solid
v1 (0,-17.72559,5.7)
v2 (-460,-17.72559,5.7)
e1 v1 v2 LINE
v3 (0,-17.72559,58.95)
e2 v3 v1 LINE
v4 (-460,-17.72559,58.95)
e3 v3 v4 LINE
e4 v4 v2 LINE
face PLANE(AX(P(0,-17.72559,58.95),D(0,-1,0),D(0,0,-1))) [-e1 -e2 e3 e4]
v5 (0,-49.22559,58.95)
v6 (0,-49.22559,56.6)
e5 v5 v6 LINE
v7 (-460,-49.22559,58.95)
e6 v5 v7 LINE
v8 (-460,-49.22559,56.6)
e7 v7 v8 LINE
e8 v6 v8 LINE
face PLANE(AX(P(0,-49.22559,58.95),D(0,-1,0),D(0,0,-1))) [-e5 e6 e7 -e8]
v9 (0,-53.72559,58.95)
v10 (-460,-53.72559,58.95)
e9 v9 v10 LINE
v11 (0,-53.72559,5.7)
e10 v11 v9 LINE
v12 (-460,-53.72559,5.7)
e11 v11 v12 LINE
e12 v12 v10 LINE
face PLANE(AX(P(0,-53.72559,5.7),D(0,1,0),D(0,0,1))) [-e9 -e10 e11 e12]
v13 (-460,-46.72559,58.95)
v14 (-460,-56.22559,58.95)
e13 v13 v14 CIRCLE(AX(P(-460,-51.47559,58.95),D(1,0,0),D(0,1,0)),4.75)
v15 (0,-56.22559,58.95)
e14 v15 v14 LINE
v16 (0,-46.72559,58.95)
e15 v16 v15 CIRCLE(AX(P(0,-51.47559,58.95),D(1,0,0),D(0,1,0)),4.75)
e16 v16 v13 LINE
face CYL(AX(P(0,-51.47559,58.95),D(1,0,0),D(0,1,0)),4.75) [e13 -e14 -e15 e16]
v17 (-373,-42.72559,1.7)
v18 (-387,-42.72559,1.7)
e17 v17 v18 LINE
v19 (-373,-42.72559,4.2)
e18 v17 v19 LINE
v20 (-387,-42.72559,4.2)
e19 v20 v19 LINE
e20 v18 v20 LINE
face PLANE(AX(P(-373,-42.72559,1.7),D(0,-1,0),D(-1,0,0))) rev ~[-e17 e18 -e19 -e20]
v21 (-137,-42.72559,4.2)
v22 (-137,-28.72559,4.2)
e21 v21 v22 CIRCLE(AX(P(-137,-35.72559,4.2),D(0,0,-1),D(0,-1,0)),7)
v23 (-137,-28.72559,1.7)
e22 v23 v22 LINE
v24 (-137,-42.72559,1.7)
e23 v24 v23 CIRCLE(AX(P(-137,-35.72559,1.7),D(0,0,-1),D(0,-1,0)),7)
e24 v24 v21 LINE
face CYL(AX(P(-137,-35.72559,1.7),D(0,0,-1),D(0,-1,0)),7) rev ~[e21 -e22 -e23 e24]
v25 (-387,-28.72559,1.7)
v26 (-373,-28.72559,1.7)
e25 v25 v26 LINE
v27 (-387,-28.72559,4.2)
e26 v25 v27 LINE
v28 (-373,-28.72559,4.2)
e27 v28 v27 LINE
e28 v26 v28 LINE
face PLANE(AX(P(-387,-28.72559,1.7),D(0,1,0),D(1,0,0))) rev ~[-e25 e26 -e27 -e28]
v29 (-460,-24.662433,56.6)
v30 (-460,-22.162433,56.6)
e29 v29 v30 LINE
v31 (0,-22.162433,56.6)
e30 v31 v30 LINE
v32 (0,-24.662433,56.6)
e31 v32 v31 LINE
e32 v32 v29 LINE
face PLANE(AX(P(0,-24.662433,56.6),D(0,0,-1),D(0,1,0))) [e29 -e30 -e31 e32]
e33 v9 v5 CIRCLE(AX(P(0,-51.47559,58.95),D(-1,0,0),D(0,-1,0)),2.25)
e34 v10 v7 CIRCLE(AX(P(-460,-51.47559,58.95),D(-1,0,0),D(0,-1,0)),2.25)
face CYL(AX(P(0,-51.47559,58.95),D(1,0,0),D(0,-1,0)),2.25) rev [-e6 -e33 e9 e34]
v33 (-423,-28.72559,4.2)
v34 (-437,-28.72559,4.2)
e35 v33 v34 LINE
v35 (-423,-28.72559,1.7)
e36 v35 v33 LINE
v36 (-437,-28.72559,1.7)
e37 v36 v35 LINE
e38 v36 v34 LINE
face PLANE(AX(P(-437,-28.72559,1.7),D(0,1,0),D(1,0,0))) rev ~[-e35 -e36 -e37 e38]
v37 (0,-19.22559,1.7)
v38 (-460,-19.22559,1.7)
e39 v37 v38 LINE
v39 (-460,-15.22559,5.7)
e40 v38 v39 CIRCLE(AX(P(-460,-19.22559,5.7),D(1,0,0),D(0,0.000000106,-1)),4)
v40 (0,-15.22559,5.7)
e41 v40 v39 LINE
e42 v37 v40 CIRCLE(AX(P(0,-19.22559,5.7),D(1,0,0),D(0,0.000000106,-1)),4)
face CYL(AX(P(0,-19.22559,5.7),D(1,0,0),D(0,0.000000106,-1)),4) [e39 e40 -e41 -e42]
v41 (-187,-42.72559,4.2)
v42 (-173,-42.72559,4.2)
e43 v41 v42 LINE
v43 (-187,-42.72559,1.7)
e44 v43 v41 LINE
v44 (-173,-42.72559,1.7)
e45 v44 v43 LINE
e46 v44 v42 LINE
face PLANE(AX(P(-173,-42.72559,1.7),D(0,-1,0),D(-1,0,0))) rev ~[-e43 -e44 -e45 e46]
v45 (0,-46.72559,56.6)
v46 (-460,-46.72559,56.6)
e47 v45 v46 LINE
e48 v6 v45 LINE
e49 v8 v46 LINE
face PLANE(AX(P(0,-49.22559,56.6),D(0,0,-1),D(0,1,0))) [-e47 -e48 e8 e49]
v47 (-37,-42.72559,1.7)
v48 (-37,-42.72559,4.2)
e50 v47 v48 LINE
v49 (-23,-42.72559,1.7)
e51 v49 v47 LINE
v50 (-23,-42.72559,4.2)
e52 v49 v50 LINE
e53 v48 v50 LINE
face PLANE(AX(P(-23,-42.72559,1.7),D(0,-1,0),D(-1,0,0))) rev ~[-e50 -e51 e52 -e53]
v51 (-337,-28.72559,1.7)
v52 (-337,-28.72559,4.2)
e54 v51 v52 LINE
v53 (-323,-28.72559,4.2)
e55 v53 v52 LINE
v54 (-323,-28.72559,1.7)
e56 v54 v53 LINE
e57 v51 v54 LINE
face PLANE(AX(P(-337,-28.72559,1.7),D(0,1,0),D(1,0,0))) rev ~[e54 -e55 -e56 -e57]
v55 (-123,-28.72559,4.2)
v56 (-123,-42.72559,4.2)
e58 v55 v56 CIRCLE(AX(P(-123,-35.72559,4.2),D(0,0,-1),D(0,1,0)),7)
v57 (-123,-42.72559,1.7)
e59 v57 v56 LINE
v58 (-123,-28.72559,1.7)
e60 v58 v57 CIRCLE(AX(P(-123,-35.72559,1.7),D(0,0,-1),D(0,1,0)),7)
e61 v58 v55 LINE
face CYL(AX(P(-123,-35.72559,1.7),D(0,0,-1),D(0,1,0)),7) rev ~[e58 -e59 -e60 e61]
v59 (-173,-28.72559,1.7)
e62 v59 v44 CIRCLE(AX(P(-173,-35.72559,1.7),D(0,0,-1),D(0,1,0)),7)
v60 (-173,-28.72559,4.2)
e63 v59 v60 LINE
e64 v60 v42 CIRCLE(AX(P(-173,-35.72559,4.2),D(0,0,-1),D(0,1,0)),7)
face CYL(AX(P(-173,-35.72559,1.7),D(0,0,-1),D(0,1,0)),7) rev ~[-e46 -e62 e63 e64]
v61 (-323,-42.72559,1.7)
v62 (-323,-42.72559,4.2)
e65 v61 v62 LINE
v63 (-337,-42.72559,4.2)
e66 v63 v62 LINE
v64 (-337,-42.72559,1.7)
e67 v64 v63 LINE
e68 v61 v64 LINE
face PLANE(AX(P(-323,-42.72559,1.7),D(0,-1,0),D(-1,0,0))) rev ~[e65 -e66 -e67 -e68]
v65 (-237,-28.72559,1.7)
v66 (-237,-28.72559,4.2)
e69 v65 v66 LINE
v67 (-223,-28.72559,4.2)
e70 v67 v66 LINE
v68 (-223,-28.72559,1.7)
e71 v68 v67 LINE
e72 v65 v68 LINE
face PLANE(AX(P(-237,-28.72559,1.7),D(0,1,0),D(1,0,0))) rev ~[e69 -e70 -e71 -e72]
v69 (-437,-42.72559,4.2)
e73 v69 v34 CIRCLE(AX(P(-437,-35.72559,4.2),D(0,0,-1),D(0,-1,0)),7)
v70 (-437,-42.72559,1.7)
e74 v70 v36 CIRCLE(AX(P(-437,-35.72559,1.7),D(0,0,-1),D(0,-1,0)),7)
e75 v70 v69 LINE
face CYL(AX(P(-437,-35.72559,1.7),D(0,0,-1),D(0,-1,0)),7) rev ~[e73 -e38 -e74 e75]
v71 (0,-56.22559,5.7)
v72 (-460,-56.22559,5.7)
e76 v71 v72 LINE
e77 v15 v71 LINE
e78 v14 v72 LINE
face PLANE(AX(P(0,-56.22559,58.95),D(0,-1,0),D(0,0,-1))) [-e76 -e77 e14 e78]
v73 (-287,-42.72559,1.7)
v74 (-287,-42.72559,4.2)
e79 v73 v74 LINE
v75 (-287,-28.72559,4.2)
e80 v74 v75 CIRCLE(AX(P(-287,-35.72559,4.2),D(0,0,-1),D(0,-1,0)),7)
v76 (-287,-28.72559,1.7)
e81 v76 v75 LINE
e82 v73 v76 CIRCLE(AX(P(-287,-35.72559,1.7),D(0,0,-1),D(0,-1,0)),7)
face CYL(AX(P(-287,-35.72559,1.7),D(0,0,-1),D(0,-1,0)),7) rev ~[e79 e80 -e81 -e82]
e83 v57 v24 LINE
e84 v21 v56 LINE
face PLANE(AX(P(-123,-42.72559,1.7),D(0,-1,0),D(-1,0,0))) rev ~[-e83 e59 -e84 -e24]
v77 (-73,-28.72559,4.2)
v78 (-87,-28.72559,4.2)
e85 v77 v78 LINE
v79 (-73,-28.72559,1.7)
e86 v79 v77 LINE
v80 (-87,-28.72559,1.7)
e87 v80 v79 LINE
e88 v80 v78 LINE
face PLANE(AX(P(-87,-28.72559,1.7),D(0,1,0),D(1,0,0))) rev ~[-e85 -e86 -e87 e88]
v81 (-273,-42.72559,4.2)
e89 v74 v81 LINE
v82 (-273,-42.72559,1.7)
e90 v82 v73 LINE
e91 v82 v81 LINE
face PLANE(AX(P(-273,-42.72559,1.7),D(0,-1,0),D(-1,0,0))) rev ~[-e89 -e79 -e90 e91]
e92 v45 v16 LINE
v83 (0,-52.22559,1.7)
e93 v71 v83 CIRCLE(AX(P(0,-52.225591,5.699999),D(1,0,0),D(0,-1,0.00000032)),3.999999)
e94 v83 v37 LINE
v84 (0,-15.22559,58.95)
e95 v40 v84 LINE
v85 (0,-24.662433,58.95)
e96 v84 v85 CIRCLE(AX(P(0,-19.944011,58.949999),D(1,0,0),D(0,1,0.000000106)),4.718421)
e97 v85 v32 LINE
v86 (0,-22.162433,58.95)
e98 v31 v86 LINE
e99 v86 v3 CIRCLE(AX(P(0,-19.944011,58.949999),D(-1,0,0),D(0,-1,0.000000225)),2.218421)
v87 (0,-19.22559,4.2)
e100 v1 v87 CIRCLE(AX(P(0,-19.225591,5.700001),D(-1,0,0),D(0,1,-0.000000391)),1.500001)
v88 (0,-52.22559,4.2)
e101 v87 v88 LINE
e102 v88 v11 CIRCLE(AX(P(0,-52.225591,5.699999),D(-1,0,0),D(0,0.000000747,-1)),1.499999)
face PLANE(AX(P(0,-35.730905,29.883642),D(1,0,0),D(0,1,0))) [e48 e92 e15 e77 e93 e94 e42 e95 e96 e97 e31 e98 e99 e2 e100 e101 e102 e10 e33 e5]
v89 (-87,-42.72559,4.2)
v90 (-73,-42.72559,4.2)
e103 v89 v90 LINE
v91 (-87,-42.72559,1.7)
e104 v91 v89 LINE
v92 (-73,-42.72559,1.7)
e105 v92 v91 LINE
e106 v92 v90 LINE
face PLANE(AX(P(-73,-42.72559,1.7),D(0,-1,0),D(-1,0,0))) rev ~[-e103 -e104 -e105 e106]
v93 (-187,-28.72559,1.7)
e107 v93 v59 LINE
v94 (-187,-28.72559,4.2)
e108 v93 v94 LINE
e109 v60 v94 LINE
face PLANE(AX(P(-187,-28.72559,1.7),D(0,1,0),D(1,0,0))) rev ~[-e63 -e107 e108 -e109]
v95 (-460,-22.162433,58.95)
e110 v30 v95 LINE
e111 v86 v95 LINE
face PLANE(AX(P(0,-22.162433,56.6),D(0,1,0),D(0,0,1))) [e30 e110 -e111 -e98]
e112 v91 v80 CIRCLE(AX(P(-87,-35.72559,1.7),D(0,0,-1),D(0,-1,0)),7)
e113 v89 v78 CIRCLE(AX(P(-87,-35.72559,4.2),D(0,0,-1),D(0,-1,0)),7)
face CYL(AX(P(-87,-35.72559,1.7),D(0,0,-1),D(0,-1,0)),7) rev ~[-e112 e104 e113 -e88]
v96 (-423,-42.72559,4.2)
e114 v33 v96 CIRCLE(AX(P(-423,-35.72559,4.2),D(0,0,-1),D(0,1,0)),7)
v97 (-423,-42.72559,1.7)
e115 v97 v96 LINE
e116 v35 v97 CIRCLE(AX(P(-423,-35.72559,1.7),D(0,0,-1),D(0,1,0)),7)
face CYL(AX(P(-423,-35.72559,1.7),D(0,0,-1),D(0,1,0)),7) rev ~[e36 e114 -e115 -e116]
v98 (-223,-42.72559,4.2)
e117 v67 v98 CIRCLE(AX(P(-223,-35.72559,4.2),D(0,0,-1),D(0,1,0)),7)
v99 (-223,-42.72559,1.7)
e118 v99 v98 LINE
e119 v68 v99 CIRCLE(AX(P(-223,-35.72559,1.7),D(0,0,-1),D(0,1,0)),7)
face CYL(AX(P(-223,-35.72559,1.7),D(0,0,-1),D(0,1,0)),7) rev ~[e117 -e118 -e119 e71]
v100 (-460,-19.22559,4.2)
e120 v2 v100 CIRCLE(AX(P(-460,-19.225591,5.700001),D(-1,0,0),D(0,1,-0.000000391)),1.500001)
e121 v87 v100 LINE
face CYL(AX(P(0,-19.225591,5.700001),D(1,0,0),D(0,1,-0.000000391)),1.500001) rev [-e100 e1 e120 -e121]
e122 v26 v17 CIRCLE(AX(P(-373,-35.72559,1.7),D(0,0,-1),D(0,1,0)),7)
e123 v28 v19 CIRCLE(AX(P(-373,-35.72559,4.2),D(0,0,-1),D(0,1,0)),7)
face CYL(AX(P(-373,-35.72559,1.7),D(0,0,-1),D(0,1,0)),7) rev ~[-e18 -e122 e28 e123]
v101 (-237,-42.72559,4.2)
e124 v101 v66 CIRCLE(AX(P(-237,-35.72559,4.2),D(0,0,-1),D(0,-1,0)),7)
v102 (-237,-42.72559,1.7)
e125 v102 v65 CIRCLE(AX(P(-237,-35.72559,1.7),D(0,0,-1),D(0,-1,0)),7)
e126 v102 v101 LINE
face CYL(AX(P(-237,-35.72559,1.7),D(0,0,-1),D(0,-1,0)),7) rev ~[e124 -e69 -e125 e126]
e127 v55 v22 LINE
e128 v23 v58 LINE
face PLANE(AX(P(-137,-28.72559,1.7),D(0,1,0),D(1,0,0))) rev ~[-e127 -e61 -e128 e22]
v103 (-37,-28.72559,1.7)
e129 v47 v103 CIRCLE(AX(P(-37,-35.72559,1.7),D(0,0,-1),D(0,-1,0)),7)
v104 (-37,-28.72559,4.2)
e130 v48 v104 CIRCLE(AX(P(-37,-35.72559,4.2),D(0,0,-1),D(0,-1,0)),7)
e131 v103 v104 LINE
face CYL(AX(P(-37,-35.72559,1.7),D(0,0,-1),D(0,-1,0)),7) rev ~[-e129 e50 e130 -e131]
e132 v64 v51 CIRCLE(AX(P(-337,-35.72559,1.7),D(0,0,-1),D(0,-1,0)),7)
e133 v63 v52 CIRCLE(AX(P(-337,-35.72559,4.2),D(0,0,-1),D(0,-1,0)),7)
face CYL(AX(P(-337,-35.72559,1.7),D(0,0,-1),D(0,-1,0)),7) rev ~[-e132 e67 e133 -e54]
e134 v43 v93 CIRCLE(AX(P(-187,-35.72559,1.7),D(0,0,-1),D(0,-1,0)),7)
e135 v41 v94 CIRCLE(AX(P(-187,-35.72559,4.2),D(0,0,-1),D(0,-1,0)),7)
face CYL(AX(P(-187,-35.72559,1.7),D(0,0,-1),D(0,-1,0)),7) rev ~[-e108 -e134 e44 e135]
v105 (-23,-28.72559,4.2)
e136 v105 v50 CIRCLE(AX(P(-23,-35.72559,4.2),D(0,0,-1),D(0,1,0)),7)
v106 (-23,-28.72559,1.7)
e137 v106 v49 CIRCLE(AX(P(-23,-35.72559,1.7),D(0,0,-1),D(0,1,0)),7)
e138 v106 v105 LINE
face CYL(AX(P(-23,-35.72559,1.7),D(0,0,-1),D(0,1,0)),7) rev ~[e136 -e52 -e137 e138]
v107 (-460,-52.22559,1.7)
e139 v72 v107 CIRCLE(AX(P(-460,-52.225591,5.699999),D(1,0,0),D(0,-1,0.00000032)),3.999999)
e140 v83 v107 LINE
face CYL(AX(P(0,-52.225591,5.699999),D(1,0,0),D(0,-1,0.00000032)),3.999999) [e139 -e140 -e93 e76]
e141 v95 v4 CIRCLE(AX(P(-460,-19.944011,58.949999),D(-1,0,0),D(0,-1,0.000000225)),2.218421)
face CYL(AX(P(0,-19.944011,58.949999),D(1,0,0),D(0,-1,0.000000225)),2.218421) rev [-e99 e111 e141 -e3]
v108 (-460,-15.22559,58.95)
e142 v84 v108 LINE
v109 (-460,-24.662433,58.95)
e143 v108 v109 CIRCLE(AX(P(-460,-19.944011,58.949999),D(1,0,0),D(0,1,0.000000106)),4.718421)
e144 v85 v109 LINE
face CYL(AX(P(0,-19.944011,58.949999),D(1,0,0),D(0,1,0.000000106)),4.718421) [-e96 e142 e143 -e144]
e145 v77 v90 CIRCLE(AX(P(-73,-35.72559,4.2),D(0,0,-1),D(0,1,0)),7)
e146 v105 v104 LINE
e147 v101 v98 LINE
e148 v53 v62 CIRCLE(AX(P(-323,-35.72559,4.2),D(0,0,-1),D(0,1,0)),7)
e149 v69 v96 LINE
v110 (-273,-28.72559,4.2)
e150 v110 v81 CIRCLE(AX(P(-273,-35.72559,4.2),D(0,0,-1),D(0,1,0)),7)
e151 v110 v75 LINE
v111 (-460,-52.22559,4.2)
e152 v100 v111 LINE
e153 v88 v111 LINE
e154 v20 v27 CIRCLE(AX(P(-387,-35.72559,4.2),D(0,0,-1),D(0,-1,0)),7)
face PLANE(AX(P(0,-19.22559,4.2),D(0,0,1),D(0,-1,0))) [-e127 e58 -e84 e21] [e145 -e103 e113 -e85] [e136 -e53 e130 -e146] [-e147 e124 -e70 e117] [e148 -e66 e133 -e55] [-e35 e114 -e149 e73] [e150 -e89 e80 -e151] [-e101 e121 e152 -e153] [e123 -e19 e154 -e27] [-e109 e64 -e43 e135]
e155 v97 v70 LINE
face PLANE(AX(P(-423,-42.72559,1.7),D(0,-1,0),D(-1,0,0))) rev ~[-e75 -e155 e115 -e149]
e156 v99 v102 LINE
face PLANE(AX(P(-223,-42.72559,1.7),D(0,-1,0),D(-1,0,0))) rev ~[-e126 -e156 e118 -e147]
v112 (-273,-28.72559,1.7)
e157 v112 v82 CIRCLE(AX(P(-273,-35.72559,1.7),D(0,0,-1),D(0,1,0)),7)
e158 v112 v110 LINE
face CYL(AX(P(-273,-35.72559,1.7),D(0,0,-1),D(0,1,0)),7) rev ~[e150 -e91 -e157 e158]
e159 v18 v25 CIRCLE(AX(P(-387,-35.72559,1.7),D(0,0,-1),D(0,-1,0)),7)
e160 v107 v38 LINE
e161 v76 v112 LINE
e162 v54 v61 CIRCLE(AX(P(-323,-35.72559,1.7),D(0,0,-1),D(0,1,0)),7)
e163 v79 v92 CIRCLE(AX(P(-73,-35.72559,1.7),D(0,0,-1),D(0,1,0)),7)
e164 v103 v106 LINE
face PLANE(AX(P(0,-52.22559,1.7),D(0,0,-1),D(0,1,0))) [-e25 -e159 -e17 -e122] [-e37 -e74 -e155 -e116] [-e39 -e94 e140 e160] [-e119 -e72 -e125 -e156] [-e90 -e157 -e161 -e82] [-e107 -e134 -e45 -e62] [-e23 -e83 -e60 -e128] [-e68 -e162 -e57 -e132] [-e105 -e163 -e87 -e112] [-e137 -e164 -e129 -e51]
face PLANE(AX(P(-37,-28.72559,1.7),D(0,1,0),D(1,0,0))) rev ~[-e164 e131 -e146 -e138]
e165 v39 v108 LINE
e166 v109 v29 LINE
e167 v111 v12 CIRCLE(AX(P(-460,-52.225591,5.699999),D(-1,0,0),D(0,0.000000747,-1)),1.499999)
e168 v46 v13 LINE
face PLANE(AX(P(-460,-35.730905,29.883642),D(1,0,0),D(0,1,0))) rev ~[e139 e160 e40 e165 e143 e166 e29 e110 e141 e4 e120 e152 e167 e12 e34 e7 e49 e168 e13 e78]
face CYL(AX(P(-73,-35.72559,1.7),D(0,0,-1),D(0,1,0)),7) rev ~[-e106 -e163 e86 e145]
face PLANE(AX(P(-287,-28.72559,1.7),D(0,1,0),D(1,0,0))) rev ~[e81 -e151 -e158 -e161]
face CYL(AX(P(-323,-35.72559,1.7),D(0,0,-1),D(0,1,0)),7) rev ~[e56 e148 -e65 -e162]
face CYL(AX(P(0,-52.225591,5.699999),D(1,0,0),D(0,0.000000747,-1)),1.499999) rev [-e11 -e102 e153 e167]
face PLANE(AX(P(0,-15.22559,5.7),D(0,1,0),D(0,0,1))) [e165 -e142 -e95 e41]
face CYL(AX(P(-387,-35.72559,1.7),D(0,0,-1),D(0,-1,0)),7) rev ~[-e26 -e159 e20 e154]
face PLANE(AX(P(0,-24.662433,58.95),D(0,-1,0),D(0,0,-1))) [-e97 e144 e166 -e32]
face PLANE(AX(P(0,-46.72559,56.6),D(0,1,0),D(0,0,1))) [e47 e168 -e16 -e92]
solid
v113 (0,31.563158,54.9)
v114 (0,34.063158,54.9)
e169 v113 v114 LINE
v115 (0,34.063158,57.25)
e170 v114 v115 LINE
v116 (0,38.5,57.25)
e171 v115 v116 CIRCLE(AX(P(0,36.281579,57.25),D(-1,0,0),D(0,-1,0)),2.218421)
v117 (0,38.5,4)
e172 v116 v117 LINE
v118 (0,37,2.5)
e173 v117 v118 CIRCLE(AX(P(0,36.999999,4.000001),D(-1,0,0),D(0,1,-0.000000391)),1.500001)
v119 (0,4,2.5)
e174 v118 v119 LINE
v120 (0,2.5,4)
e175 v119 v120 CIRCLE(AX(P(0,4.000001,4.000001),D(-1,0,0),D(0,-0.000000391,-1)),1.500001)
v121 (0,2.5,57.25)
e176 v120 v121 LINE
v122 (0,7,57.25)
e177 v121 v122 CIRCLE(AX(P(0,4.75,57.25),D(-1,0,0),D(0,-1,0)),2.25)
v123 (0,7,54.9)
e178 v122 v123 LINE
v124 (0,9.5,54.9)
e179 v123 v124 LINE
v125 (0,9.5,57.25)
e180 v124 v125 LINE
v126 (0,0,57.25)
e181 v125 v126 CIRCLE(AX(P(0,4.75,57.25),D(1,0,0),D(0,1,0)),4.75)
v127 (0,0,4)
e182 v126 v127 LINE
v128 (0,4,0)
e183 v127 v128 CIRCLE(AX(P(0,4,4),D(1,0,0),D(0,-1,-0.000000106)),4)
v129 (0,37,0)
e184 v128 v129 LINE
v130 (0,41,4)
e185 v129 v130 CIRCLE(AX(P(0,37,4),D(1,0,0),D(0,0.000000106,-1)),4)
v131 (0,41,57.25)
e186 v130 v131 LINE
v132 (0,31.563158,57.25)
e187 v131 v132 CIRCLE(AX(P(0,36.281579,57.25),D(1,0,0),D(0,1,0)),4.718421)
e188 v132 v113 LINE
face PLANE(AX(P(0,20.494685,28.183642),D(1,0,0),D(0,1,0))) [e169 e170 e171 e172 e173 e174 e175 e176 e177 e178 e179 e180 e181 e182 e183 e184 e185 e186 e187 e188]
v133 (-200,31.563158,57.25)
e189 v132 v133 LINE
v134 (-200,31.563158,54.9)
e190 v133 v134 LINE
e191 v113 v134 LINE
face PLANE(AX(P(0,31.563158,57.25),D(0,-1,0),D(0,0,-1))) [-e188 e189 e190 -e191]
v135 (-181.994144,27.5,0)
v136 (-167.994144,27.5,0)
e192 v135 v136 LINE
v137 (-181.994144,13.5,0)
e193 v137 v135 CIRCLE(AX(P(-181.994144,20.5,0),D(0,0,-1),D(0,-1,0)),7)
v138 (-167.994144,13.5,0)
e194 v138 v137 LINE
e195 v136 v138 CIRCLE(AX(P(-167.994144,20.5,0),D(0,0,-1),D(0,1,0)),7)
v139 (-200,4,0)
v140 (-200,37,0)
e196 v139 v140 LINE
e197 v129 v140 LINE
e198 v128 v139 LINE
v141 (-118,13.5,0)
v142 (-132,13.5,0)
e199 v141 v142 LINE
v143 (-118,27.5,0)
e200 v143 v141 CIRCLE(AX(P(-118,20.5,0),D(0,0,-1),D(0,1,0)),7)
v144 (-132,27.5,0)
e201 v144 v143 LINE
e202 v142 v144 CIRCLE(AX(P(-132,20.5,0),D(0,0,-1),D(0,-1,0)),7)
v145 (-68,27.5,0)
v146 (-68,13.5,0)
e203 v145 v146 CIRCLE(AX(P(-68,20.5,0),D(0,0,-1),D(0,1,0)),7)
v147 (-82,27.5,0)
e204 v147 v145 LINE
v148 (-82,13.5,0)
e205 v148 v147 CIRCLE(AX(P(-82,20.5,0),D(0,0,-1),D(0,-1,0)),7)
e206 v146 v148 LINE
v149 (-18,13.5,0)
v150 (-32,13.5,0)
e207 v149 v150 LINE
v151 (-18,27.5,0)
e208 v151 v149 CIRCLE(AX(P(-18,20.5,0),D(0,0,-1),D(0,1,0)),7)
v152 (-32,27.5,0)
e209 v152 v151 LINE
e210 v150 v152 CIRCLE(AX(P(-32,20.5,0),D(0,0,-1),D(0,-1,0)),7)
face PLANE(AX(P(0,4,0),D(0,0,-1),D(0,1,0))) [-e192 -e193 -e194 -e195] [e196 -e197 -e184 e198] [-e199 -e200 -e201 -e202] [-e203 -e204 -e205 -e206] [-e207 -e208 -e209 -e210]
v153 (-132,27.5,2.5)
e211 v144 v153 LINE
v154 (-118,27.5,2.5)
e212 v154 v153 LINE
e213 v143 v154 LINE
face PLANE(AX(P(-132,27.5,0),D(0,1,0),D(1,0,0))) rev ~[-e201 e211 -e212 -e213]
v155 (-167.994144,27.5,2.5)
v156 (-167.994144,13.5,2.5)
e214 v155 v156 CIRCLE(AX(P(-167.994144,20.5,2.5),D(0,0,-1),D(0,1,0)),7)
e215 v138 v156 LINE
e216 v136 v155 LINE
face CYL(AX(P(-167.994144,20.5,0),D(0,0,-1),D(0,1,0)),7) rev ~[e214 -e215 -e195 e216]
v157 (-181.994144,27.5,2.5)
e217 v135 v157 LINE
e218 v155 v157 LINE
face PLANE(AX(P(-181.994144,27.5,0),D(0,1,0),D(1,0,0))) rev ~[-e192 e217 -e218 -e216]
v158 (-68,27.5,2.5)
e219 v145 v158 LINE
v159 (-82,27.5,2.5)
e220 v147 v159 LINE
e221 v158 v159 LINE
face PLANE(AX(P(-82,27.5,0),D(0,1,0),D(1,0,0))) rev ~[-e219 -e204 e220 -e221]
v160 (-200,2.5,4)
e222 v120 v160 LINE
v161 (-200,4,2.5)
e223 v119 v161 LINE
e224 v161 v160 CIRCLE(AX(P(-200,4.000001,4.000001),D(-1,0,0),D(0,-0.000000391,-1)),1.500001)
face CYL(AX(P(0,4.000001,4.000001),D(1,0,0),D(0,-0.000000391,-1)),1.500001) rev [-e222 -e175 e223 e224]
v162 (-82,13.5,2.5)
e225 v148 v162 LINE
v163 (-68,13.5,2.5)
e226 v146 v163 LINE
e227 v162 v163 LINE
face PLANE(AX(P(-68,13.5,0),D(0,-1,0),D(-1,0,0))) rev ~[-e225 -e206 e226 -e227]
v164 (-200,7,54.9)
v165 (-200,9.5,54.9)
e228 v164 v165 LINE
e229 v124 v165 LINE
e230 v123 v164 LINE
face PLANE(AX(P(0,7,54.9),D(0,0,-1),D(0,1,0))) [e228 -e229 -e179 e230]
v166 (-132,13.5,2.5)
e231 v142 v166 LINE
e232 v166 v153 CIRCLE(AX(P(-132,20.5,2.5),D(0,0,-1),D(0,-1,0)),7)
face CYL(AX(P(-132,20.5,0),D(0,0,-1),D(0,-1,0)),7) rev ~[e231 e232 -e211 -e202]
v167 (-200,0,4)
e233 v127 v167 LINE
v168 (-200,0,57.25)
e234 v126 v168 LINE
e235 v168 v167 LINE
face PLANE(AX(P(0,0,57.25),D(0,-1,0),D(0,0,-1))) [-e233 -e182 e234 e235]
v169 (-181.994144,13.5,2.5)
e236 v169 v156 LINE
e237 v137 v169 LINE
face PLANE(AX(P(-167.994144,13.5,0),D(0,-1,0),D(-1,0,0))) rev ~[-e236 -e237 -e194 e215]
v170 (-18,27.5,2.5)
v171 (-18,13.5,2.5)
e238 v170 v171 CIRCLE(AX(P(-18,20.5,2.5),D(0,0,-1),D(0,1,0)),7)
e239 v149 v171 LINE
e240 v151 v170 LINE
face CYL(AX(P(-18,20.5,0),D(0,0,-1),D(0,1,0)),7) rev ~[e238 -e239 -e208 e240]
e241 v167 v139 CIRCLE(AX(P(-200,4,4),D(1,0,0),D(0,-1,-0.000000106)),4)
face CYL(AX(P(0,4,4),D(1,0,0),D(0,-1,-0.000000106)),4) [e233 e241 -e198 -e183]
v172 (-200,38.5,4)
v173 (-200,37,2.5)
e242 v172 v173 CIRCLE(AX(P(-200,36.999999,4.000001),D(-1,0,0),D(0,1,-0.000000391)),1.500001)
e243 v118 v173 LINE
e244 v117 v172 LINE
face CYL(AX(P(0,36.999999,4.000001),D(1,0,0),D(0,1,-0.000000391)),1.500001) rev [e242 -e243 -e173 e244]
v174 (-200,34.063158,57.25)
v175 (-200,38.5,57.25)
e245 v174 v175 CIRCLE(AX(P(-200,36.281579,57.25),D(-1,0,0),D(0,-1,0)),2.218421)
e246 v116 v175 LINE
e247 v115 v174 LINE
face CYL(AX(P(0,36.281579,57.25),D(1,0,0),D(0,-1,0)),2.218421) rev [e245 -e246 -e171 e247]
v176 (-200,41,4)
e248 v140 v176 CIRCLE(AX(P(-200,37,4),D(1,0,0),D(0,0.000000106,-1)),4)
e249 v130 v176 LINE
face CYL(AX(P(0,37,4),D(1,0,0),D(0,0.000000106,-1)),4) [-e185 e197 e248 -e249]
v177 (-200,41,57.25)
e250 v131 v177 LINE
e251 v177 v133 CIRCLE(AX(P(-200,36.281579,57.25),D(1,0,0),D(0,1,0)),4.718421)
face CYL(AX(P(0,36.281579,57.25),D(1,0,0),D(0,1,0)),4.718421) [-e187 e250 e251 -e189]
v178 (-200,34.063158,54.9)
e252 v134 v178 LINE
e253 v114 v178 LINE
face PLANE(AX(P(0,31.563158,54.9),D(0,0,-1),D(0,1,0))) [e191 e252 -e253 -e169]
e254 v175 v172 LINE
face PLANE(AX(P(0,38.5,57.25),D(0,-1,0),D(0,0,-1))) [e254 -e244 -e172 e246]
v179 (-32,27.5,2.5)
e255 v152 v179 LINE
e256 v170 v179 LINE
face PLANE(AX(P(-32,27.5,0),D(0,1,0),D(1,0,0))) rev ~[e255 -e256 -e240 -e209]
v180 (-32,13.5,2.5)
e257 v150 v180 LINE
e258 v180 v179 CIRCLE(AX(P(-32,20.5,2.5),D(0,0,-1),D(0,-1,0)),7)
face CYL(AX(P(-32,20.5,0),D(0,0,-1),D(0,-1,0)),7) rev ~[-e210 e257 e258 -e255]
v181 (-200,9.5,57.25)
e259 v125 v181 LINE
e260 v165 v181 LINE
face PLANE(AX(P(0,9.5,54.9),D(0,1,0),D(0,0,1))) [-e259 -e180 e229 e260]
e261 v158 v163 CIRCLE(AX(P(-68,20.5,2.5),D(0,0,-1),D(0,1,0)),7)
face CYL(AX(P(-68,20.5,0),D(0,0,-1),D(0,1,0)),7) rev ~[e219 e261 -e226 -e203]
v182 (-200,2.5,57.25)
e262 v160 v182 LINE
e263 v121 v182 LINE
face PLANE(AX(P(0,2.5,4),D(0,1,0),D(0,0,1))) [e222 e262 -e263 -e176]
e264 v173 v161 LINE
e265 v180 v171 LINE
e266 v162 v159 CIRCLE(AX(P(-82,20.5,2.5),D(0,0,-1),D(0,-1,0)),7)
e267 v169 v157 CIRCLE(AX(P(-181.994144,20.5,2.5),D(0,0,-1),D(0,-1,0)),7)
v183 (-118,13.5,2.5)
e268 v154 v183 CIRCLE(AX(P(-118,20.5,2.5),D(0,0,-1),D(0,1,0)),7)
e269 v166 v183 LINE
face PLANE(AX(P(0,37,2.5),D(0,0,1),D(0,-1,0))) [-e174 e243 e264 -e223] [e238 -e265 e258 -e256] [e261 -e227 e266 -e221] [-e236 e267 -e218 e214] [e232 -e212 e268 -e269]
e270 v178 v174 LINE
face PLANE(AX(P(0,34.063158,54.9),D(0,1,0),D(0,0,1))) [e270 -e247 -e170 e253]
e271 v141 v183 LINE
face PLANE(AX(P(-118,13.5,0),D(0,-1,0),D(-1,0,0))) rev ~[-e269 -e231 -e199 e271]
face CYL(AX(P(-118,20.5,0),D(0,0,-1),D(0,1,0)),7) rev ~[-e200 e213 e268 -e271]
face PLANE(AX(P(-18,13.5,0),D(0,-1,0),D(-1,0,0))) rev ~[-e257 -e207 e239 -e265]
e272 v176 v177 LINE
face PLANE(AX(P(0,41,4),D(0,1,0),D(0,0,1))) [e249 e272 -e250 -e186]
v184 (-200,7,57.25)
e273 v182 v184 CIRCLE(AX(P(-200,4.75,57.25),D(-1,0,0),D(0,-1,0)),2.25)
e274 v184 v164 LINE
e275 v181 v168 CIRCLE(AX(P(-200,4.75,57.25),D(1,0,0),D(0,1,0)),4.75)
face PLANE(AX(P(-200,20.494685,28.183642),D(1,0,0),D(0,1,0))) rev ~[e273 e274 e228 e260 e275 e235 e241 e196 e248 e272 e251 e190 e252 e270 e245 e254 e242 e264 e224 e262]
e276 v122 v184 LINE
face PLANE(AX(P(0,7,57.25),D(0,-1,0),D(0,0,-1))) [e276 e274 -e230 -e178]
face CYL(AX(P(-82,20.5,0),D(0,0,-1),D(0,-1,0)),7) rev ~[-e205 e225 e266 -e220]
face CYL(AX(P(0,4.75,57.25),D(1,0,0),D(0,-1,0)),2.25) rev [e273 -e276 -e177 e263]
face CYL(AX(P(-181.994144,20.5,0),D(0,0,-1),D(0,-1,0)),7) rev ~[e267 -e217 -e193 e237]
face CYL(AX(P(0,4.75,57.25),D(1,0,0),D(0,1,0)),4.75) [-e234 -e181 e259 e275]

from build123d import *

# Parameters (mm, degrees)
F1_DEPTH = 200
F3_DEPTH = 25
F5_DEPTH = 460
F7_DEPTH = 25


with BuildPart() as f1:
    # F0 (on Right) → F1 (new body)
    with BuildSketch(Plane.YZ):
        with BuildLine():
            Line((0, 57.25), (0, 4))
            ThreePointArc((0, 4), (1.171573, 1.171573), (4, 0))
            Line((4, 0), (37, 0))
            ThreePointArc((37, 0), (39.828427, 1.171573), (41, 4))
            Line((41, 4), (41, 57.25))
            ThreePointArc((41, 57.25), (36.281579, 61.968421), (31.563158, 57.25))
            Line((31.563158, 57.25), (31.563158, 54.9))
            Line((31.563158, 54.9), (34.063158, 54.9))
            Line((34.063158, 54.9), (34.063158, 57.25))
            ThreePointArc((34.063158, 57.25), (36.281579, 59.468421), (38.5, 57.25))
            Line((38.5, 57.25), (38.5, 4))
            ThreePointArc((38.5, 4), (38.06066, 2.93934), (37, 2.5))
            Line((37, 2.5), (4, 2.5))
            ThreePointArc((4, 2.5), (2.93934, 2.93934), (2.5, 4))
            Line((2.5, 4), (2.5, 57.25))
            ThreePointArc((2.5, 57.25), (4.75, 59.5), (7, 57.25))
            Line((7, 57.25), (7, 54.9))
            Line((7, 54.9), (9.5, 54.9))
            Line((9.5, 54.9), (9.5, 57.25))
            ThreePointArc((9.5, 57.25), (4.75, 62), (0, 57.25))
        make_face()
    extrude(amount=-F1_DEPTH)

    # F2 (on face) → F3 (cut)
    with BuildSketch(Plane(origin=(0, 0, 0), x_dir=(1, 0, 0), z_dir=(0, 0, -1))):
        with BuildLine():
            ThreePointArc((-118, -27.5), (-111, -20.5), (-118, -13.5))
            Line((-118, -13.5), (-132, -13.5))
            ThreePointArc((-132, -13.5), (-139, -20.5), (-132, -27.5))
            Line((-132, -27.5), (-118, -27.5))
        make_face()
        with BuildLine():
            Line((-82, -27.5), (-68, -27.5))
            ThreePointArc((-68, -27.5), (-61, -20.5), (-68, -13.5))
            Line((-68, -13.5), (-82, -13.5))
            ThreePointArc((-82, -13.5), (-89, -20.5), (-82, -27.5))
        make_face()
        with BuildLine():
            Line((-32, -27.5), (-18, -27.5))
            ThreePointArc((-18, -27.5), (-11, -20.5), (-18, -13.5))
            Line((-18, -13.5), (-32, -13.5))
            ThreePointArc((-32, -13.5), (-39, -20.5), (-32, -27.5))
        make_face()
        with BuildLine():
            Line((-181.994144, -27.5), (-167.994144, -27.5))
            ThreePointArc((-167.994144, -27.5), (-160.994144, -20.5), (-167.994144, -13.5))
            Line((-167.994144, -13.5), (-181.994144, -13.5))
            ThreePointArc((-181.994144, -13.5), (-188.994144, -20.5), (-181.994144, -27.5))
        make_face()
    extrude(amount=-F3_DEPTH, mode=Mode.SUBTRACT)


with BuildPart() as f5:
    # F4 (on Right) → F5 (new body)
    with BuildSketch(Plane.YZ):
        with BuildLine():
            Line((-56.22559, 58.95), (-56.22559, 5.7))
            ThreePointArc((-56.22559, 5.7), (-55.054018, 2.871573), (-52.22559, 1.7))
            Line((-52.22559, 1.7), (-19.22559, 1.7))
            ThreePointArc((-19.22559, 1.7), (-16.397163, 2.871573), (-15.22559, 5.7))
            Line((-15.22559, 5.7), (-15.22559, 58.95))
            ThreePointArc((-15.22559, 58.95), (-19.944011, 63.668421), (-24.662433, 58.95))
            Line((-24.662433, 58.95), (-24.662433, 56.6))
            Line((-24.662433, 56.6), (-22.162433, 56.6))
            Line((-22.162433, 56.6), (-22.162433, 58.95))
            ThreePointArc((-22.162433, 58.95), (-19.944011, 61.168421), (-17.72559, 58.95))
            Line((-17.72559, 58.95), (-17.72559, 5.7))
            ThreePointArc((-17.72559, 5.7), (-18.16493, 4.63934), (-19.22559, 4.2))
            Line((-19.22559, 4.2), (-52.22559, 4.2))
            ThreePointArc((-52.22559, 4.2), (-53.286251, 4.63934), (-53.72559, 5.7))
            Line((-53.72559, 5.7), (-53.72559, 58.95))
            ThreePointArc((-53.72559, 58.95), (-51.47559, 61.2), (-49.22559, 58.95))
            Line((-49.22559, 58.95), (-49.22559, 56.6))
            Line((-49.22559, 56.6), (-46.72559, 56.6))
            Line((-46.72559, 56.6), (-46.72559, 58.95))
            ThreePointArc((-46.72559, 58.95), (-51.47559, 63.7), (-56.22559, 58.95))
        make_face()
    extrude(amount=-F5_DEPTH)

    # F6 (on face) → F7 (cut)
    with BuildSketch(Plane(origin=(0, 0, 1.7), x_dir=(1, 0, 0), z_dir=(0, 0, -1))):
        with BuildLine():
            Line((-37, 28.72559), (-23, 28.72559))
            ThreePointArc((-23, 28.72559), (-16, 35.72559), (-23, 42.72559))
            Line((-23, 42.72559), (-37, 42.72559))
            ThreePointArc((-37, 42.72559), (-44, 35.72559), (-37, 28.72559))
        make_face()
        with BuildLine():
            Line((-73, 42.72559), (-87, 42.72559))
            ThreePointArc((-87, 42.72559), (-94, 35.72559), (-87, 28.72559))
            Line((-87, 28.72559), (-73, 28.72559))
            ThreePointArc((-73, 28.72559), (-66, 35.72559), (-73, 42.72559))
        make_face()
        with BuildLine():
            Line((-123, 42.72559), (-137, 42.72559))
            ThreePointArc((-137, 42.72559), (-144, 35.72559), (-137, 28.72559))
            Line((-137, 28.72559), (-123, 28.72559))
            ThreePointArc((-123, 28.72559), (-116, 35.72559), (-123, 42.72559))
        make_face()
        with BuildLine():
            Line((-173, 42.72559), (-187, 42.72559))
            ThreePointArc((-187, 42.72559), (-194, 35.72559), (-187, 28.72559))
            Line((-187, 28.72559), (-173, 28.72559))
            ThreePointArc((-173, 28.72559), (-166, 35.72559), (-173, 42.72559))
        make_face()
        with BuildLine():
            Line((-223, 42.72559), (-237, 42.72559))
            ThreePointArc((-237, 42.72559), (-244, 35.72559), (-237, 28.72559))
            Line((-237, 28.72559), (-223, 28.72559))
            ThreePointArc((-223, 28.72559), (-216, 35.72559), (-223, 42.72559))
        make_face()
        with BuildLine():
            Line((-273, 42.72559), (-287, 42.72559))
            ThreePointArc((-287, 42.72559), (-294, 35.72559), (-287, 28.72559))
            Line((-287, 28.72559), (-273, 28.72559))
            ThreePointArc((-273, 28.72559), (-266, 35.72559), (-273, 42.72559))
        make_face()
        with BuildLine():
            Line((-323, 42.72559), (-337, 42.72559))
            ThreePointArc((-337, 42.72559), (-344, 35.72559), (-337, 28.72559))
            Line((-337, 28.72559), (-323, 28.72559))
            ThreePointArc((-323, 28.72559), (-316, 35.72559), (-323, 42.72559))
        make_face()
        with BuildLine():
            Line((-373, 42.72559), (-387, 42.72559))
            ThreePointArc((-387, 42.72559), (-394, 35.72559), (-387, 28.72559))
            Line((-387, 28.72559), (-373, 28.72559))
            ThreePointArc((-373, 28.72559), (-366, 35.72559), (-373, 42.72559))
        make_face()
        with BuildLine():
            Line((-423, 42.72559), (-437, 42.72559))
            ThreePointArc((-437, 42.72559), (-444, 35.72559), (-437, 28.72559))
            Line((-437, 28.72559), (-423, 28.72559))
            ThreePointArc((-423, 28.72559), (-416, 35.72559), (-423, 42.72559))
        make_face()
    extrude(amount=-F7_DEPTH, mode=Mode.SUBTRACT)


solid = Compound([f1.part, f5.part])
